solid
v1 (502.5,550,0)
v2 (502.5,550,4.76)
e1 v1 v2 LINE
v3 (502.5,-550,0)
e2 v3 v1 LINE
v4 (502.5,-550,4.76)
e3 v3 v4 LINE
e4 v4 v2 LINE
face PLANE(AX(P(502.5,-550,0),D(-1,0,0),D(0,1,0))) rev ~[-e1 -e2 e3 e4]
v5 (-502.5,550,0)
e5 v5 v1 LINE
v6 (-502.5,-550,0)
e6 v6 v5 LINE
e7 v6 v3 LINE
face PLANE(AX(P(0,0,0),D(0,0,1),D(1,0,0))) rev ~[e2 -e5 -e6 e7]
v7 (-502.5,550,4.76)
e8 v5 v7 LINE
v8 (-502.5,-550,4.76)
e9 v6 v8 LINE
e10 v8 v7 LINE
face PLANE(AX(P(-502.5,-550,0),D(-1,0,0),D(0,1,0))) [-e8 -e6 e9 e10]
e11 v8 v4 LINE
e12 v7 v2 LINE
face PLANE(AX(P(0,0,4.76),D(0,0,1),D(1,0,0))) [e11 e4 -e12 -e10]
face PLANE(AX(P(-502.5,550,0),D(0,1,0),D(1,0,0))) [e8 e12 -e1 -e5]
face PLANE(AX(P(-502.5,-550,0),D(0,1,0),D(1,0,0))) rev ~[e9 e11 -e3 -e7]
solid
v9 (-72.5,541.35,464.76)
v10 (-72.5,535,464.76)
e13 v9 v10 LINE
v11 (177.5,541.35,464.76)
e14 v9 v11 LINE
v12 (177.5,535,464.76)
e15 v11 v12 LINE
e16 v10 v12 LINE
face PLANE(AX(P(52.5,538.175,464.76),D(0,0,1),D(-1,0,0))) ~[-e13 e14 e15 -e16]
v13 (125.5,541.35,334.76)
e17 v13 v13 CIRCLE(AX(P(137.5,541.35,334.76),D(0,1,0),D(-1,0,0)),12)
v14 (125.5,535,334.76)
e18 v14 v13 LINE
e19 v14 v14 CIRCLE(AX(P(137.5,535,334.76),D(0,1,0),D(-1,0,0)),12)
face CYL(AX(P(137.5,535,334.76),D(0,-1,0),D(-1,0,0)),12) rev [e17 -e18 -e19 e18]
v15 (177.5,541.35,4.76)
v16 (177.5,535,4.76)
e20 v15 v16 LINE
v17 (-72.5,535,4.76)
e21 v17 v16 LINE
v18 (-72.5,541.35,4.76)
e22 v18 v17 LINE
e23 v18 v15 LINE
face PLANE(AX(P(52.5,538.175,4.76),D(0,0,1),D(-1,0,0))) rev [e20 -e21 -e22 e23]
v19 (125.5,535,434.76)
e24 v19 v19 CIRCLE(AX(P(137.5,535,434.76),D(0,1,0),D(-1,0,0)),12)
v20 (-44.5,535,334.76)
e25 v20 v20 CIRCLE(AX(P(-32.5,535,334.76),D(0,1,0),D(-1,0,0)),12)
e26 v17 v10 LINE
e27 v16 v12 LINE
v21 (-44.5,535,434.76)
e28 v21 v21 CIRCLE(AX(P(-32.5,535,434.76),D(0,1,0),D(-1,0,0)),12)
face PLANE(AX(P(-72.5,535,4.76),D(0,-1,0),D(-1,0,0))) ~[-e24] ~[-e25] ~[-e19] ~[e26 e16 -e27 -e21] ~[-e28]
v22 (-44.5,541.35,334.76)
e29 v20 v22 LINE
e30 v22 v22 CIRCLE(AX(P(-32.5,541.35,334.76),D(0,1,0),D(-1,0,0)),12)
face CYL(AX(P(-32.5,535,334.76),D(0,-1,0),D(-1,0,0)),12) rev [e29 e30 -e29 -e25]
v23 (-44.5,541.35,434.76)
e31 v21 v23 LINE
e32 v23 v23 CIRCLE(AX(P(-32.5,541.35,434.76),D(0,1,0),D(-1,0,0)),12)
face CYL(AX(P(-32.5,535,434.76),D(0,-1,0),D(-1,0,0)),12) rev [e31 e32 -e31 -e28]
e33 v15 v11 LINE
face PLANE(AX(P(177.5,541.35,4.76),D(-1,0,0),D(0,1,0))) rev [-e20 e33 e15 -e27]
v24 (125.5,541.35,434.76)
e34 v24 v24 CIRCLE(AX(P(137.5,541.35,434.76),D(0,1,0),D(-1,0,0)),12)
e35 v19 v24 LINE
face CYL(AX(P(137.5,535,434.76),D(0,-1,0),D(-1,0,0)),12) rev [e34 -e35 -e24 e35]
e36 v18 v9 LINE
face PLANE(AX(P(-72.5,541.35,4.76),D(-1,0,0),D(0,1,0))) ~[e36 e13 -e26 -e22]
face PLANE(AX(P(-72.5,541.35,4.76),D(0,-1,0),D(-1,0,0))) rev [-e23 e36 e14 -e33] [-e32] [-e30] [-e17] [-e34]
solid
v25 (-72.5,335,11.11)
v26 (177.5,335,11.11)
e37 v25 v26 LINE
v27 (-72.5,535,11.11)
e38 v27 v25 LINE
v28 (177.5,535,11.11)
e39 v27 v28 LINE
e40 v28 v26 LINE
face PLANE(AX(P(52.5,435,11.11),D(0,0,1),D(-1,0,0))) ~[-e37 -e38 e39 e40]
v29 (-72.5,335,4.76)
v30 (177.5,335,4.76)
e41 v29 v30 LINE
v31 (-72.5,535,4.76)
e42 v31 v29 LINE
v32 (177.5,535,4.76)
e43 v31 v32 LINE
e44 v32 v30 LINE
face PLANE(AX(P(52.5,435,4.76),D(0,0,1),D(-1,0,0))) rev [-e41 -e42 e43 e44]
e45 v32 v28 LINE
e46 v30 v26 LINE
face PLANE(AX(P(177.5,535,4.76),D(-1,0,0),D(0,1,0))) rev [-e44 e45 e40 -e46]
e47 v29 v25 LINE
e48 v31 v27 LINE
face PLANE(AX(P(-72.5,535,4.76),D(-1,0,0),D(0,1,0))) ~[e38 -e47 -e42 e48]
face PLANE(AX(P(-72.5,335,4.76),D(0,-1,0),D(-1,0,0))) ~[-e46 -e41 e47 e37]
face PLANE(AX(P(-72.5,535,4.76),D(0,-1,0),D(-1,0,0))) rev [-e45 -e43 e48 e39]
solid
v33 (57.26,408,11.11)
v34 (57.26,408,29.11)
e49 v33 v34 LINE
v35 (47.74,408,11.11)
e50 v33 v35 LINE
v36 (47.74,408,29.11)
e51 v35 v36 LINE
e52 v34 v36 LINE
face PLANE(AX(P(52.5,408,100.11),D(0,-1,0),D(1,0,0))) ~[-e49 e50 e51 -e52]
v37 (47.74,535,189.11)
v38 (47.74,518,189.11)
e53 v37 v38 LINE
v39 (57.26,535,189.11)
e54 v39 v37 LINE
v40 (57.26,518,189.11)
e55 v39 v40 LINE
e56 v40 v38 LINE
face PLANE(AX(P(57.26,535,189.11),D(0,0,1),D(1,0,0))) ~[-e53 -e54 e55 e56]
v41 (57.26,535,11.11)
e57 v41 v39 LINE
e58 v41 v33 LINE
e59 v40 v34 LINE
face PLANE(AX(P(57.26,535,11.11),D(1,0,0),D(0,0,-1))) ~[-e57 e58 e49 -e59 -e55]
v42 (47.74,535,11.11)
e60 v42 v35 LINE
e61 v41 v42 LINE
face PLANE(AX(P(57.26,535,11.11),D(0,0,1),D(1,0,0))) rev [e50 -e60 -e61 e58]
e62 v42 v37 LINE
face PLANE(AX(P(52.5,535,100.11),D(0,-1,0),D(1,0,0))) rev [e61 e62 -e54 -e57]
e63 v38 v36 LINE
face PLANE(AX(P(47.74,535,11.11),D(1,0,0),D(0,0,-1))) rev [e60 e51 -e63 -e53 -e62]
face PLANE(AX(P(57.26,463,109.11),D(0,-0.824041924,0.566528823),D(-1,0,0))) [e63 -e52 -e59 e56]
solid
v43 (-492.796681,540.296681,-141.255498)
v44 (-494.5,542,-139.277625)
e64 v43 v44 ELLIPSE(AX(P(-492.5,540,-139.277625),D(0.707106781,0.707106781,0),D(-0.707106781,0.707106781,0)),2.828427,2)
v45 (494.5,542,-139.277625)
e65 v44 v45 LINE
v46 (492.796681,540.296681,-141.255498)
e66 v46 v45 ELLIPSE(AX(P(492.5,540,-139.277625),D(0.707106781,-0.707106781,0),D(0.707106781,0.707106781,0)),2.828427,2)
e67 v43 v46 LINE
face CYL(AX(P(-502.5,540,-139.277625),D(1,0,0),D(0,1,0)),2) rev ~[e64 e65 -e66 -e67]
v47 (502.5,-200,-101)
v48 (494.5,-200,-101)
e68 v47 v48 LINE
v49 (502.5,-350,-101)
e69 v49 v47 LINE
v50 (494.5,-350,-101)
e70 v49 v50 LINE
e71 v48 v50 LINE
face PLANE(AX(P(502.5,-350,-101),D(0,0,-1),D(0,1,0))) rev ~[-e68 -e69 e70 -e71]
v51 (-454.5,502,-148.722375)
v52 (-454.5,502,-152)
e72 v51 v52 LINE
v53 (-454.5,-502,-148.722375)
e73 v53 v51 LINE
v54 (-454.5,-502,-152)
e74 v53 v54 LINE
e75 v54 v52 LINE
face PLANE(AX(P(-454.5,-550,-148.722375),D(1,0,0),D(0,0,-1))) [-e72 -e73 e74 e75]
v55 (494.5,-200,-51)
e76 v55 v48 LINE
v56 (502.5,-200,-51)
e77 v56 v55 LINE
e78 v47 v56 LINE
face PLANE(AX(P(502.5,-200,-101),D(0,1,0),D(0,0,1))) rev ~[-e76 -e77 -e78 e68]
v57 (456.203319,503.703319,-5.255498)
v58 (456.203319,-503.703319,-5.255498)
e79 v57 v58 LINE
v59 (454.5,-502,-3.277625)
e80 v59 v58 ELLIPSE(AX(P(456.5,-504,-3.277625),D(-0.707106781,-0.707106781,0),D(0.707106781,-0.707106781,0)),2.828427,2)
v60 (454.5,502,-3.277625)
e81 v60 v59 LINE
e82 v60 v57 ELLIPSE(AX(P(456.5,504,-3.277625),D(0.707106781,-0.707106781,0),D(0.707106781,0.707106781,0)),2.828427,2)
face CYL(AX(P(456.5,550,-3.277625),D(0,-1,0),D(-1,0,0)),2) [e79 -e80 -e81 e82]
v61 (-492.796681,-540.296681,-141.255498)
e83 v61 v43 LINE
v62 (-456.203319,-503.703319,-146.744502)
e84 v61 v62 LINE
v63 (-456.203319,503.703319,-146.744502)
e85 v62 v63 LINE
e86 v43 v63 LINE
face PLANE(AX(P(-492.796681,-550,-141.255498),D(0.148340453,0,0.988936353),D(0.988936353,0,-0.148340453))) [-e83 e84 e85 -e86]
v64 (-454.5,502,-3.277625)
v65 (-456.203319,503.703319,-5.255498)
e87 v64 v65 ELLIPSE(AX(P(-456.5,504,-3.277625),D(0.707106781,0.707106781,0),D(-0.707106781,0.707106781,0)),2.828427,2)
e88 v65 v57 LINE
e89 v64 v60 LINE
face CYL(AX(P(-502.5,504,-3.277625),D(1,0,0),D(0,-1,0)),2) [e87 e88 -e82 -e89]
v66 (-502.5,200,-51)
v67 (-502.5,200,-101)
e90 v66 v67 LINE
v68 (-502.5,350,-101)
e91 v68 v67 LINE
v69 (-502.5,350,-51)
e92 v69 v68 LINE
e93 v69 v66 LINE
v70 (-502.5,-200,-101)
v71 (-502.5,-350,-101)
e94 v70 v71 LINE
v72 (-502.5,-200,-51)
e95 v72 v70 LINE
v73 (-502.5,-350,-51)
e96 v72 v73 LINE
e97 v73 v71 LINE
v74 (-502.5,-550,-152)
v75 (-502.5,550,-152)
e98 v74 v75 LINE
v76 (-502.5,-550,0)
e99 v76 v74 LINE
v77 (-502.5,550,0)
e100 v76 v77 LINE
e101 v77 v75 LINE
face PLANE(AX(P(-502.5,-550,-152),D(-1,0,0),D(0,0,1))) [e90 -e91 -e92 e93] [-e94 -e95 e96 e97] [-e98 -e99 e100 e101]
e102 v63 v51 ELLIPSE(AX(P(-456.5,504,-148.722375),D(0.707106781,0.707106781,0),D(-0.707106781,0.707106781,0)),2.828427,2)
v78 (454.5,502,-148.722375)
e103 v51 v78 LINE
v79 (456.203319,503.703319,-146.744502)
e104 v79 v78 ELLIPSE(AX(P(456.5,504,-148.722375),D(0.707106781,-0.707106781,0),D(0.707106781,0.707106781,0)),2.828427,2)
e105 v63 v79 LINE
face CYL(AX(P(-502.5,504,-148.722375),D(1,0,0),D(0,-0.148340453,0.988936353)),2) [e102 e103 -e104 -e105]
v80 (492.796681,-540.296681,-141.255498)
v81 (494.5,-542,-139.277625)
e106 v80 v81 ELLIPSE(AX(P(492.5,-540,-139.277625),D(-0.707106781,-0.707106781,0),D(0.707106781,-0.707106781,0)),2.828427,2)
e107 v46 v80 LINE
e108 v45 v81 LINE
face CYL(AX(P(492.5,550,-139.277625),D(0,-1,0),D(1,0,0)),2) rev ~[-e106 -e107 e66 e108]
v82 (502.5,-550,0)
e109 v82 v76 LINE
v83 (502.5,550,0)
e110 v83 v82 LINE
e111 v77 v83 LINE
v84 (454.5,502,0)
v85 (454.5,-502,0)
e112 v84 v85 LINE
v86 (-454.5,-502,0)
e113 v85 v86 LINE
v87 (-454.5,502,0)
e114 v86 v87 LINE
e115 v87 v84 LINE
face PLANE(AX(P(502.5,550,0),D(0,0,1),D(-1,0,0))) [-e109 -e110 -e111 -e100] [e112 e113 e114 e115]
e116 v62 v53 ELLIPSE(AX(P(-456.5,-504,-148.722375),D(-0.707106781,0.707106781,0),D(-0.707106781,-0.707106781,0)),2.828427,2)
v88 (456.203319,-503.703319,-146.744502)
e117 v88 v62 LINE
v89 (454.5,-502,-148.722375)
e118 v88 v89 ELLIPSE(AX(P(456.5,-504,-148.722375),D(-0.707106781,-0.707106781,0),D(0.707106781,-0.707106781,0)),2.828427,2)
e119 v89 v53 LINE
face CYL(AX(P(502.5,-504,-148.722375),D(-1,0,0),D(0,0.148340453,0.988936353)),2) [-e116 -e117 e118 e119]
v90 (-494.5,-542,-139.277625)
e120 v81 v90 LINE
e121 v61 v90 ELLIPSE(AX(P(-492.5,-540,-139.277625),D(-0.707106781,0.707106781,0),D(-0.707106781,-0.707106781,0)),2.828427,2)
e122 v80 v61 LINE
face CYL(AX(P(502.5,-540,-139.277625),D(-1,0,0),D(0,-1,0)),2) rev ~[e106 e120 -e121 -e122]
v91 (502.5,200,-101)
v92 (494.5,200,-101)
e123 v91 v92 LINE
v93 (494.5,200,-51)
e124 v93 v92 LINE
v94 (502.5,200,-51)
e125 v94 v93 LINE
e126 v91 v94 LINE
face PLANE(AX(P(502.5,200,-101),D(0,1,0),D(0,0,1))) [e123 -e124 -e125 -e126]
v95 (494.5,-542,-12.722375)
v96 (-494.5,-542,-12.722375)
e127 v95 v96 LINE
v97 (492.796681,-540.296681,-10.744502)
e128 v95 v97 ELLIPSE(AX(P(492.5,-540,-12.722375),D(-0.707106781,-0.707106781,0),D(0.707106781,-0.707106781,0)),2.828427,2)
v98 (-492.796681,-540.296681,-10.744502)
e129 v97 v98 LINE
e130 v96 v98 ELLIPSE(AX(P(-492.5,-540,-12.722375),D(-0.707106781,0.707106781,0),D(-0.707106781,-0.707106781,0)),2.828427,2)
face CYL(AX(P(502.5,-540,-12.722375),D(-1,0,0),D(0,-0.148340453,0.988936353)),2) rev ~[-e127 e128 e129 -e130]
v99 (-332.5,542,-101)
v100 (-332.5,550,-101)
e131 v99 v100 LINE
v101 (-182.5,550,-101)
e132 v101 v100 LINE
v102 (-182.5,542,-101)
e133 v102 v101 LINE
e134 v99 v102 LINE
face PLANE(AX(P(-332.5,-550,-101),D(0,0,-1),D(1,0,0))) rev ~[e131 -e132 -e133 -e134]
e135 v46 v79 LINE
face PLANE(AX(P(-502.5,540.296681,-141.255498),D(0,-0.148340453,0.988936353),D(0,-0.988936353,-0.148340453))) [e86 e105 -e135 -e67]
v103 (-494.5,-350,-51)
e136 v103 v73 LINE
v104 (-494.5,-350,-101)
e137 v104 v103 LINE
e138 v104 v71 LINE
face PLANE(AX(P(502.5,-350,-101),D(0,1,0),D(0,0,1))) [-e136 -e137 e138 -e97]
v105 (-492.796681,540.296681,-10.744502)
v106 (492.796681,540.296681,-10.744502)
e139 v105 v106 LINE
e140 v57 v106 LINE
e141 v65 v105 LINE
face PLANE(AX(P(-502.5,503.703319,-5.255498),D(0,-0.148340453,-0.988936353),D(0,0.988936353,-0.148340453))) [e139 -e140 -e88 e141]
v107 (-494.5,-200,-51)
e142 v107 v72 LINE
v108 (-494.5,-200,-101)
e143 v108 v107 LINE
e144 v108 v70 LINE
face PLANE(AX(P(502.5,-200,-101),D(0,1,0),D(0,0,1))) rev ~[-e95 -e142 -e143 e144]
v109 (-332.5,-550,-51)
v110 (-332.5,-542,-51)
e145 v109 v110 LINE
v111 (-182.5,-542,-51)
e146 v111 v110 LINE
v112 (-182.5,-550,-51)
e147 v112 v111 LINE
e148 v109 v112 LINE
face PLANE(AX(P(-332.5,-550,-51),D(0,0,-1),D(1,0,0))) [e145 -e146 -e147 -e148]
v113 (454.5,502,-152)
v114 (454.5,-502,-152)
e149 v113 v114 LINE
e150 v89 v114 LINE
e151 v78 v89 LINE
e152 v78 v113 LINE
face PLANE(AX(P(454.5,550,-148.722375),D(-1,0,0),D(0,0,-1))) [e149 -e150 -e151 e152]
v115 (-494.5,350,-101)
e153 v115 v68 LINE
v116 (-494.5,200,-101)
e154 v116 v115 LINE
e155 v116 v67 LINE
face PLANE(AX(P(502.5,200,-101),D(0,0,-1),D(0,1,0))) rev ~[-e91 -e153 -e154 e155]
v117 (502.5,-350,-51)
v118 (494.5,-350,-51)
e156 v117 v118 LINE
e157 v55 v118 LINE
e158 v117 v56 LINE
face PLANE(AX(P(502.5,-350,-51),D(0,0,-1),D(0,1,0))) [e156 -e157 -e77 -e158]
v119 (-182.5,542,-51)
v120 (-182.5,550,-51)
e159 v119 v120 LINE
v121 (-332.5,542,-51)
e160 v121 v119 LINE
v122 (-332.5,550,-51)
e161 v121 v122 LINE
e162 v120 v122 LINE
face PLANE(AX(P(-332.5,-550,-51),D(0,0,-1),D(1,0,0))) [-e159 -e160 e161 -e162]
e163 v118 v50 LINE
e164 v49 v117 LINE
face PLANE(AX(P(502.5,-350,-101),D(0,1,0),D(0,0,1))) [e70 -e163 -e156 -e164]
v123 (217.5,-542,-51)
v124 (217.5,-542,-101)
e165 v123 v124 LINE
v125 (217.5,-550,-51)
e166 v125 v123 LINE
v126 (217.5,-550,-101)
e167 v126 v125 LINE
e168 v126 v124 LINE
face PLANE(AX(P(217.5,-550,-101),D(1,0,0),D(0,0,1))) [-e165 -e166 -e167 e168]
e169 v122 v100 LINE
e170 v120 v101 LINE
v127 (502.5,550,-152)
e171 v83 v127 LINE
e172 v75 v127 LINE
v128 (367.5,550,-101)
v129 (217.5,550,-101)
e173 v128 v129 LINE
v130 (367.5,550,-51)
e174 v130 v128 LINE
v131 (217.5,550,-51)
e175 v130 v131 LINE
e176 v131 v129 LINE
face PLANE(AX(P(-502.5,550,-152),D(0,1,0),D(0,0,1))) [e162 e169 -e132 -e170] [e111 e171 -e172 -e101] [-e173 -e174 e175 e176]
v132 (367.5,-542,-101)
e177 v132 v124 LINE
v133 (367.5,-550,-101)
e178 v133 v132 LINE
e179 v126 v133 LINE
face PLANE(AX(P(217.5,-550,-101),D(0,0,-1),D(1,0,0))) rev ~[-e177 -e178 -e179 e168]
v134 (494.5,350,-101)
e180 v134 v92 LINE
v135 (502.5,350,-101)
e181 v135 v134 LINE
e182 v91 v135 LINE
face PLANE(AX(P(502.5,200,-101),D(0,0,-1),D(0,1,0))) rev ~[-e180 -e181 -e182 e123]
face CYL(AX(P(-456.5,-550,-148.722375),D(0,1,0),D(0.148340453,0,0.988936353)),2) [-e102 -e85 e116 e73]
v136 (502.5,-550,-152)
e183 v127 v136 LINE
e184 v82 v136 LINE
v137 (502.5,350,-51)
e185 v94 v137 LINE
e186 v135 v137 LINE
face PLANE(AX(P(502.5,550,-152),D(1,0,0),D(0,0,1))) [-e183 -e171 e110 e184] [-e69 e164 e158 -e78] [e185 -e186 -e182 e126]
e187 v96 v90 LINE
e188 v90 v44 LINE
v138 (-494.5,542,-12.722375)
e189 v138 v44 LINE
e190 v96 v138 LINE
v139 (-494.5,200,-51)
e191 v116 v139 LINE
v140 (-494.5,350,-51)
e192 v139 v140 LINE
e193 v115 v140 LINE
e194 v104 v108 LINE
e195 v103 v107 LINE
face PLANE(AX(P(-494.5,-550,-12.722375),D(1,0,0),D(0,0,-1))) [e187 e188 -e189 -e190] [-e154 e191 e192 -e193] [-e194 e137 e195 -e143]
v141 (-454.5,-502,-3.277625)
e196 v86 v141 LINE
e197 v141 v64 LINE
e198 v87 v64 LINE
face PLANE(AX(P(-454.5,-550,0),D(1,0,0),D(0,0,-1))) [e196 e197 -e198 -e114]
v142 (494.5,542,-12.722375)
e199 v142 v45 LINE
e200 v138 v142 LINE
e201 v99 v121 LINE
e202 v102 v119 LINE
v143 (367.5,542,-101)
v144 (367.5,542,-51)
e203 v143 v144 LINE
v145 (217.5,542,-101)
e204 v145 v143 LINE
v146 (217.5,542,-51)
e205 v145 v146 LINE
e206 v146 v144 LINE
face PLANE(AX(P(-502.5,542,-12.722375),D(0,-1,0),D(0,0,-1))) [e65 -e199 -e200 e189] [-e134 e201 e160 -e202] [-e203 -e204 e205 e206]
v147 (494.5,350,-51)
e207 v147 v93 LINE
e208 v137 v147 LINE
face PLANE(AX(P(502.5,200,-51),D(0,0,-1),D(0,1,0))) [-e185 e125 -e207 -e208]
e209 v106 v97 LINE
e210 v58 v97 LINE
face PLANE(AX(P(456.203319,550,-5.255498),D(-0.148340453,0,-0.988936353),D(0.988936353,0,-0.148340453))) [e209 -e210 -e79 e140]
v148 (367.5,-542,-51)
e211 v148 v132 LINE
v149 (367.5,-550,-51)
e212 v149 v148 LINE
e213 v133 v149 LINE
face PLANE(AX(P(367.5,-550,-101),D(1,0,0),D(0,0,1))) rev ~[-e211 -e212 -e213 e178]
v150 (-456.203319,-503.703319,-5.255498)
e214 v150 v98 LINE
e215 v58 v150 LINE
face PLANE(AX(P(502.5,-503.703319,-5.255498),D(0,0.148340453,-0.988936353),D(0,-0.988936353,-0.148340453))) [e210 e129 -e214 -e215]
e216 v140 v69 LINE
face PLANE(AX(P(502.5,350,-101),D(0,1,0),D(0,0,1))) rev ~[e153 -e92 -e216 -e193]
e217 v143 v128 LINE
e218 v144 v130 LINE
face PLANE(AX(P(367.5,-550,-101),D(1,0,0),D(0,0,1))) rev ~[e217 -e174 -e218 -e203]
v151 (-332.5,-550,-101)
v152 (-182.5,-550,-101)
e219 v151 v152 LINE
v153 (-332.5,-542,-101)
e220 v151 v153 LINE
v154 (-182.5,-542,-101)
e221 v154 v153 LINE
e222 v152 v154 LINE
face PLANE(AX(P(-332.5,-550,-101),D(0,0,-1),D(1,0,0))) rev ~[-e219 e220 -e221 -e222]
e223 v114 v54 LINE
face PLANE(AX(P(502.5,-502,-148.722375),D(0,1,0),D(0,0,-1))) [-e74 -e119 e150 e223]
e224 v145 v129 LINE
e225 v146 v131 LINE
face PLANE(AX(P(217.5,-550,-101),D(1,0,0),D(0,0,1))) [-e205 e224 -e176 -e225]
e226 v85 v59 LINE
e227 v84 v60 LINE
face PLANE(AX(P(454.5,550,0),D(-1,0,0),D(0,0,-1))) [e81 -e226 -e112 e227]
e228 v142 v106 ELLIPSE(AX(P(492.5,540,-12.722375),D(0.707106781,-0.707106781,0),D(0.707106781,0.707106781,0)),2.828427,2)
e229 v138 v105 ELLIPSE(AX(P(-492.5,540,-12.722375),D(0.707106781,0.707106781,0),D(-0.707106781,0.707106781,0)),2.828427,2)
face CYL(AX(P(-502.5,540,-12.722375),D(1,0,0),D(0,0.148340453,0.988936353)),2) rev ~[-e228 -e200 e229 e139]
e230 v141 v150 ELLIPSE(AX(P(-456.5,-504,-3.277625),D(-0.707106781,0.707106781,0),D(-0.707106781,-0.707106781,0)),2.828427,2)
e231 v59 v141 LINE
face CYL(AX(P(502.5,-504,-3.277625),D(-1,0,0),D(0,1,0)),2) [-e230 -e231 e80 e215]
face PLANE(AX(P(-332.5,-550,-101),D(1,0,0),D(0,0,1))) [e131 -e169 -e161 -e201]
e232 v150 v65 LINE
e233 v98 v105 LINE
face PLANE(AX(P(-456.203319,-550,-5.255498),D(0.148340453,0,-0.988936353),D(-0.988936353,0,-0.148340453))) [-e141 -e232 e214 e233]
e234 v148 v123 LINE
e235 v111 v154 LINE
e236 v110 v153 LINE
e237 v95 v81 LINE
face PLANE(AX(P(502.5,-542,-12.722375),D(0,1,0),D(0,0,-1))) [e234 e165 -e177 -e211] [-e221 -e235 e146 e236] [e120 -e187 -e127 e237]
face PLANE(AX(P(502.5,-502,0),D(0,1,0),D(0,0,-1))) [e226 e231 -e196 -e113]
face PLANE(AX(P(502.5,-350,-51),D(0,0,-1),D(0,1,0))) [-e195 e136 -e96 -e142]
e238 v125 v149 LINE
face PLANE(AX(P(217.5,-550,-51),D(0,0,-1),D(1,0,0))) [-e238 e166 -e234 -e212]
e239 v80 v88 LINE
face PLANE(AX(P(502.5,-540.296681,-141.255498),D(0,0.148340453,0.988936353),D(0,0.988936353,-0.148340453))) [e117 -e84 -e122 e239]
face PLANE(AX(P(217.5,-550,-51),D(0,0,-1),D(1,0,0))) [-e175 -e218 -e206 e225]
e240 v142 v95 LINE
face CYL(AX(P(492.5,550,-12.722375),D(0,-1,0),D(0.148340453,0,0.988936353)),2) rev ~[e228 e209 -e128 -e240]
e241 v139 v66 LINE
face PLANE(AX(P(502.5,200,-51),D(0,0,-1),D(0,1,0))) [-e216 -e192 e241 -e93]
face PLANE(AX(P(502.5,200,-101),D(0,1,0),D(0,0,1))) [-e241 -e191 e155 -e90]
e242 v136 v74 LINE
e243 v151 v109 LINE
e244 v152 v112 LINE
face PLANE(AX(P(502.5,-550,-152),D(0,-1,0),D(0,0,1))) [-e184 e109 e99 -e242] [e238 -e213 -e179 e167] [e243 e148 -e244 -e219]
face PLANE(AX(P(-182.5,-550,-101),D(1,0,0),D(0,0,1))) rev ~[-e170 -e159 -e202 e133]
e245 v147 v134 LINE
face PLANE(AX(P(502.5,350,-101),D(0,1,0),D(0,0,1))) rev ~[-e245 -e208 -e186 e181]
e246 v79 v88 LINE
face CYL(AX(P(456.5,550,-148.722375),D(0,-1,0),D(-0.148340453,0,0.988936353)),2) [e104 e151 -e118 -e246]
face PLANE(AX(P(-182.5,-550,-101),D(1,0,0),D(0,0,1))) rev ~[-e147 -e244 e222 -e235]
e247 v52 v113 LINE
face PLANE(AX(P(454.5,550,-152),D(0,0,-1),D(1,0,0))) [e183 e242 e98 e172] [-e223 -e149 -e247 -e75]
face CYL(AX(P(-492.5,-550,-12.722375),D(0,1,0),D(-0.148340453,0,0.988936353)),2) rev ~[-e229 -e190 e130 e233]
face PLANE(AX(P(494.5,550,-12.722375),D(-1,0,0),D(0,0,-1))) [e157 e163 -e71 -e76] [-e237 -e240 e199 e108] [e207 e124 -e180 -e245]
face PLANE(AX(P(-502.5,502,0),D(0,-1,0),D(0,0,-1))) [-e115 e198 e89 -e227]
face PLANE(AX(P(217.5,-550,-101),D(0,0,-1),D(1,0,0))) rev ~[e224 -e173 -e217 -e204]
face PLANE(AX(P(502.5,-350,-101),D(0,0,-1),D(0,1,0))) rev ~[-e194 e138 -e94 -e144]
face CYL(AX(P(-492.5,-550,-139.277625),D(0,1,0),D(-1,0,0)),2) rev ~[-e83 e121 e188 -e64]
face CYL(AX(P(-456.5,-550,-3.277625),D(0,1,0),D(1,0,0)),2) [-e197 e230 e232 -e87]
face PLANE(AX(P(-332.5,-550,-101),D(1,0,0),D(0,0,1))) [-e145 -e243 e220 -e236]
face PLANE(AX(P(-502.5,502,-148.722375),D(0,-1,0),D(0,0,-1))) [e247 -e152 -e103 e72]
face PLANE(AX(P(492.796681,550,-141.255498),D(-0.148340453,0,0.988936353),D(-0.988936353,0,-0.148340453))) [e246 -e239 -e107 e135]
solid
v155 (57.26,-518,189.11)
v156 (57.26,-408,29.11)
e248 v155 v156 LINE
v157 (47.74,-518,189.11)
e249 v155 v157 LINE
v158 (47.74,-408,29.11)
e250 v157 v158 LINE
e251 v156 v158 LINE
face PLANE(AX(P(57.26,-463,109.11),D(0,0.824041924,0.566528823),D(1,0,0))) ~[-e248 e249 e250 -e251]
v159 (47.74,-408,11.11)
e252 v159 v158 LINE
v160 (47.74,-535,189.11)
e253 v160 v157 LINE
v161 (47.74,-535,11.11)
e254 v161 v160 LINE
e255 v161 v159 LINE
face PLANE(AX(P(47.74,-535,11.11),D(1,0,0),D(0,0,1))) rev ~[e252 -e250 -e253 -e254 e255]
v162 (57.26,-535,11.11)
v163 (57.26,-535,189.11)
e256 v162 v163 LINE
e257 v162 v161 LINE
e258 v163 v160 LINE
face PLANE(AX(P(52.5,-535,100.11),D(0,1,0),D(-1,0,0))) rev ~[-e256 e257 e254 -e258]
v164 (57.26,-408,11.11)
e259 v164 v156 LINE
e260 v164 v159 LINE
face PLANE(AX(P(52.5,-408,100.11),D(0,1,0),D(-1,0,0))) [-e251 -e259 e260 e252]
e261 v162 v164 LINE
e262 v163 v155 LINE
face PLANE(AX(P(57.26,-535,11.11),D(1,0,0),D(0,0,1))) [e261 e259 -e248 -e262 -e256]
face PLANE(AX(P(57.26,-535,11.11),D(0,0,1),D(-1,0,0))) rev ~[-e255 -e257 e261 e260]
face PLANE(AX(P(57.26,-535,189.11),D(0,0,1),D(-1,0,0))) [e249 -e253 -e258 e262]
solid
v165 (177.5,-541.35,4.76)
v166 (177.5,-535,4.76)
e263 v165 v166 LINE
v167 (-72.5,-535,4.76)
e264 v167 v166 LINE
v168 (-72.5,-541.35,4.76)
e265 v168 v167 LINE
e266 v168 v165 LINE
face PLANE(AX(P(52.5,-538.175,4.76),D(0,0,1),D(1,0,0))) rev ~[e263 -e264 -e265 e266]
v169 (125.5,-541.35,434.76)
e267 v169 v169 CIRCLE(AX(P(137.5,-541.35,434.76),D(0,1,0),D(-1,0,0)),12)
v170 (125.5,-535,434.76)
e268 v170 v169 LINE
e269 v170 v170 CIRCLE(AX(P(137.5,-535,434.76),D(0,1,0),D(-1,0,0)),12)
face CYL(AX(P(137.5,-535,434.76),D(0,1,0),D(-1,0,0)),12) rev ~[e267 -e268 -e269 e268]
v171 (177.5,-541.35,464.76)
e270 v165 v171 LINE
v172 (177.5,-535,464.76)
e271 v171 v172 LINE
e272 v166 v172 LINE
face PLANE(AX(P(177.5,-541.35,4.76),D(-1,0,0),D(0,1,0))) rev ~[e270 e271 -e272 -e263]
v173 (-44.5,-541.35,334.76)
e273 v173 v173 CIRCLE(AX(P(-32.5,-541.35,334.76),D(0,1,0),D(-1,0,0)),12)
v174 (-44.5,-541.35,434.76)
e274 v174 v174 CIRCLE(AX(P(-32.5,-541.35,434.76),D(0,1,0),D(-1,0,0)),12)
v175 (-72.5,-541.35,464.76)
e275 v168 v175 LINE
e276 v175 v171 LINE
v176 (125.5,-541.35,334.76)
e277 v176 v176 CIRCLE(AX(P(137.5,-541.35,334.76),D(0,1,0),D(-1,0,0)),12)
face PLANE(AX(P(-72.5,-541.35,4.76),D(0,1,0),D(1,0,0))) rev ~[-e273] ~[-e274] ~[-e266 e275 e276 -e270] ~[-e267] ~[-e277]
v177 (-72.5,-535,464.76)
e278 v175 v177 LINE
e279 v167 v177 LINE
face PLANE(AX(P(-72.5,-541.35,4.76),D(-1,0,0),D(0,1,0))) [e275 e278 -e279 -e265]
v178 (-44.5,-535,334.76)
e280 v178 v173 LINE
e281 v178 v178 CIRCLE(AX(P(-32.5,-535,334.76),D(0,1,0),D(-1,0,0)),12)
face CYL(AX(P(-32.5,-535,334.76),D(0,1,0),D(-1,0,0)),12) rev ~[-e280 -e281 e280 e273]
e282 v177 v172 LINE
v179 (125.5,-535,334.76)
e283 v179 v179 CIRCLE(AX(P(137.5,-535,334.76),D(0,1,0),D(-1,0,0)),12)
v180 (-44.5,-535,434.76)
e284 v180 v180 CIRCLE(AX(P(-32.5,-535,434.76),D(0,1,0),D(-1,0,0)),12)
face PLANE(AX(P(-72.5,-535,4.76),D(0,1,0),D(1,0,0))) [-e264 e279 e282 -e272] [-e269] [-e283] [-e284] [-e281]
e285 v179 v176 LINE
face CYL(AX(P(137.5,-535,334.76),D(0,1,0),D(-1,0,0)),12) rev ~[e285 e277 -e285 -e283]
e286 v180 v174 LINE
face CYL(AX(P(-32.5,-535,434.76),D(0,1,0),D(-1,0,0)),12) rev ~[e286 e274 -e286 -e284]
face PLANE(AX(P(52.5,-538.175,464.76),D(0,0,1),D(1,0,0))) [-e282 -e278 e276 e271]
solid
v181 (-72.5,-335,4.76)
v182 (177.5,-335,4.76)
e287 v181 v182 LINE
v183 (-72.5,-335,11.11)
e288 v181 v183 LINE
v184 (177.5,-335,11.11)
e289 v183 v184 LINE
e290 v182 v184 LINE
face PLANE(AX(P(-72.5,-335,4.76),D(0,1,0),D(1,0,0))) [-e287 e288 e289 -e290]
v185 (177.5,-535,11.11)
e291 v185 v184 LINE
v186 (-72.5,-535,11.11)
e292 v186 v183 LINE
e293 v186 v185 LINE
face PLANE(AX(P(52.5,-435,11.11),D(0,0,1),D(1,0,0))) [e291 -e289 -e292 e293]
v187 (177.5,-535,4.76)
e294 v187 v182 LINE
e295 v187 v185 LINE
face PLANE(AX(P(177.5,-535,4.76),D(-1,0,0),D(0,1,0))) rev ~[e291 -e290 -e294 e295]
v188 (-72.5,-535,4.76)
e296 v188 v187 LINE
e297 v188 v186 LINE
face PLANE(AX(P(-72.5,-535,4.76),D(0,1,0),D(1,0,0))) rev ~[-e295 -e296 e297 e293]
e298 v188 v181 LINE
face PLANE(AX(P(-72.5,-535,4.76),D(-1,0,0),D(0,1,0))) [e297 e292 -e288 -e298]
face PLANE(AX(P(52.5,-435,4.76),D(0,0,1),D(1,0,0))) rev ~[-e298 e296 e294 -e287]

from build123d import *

# Parameters (mm, degrees)
F0_W      = 1005
F0_H      = 1100
F1_DEPTH  = 4.76
F4_W      = 150
F4_H      = 50
F5_DEPTH  = 1005.001
F6_W      = 150
F6_H      = 50
F7_DEPTH  = 1100.001
F8_W      = 250
F8_H      = 200
F9_DEPTH  = 6.35
F10_W     = 250
F10_H     = 6.35
F11_DEPTH = 460
F12_W     = 9.52
F12_H     = 178
F13_DEPTH = 127
F14_SIZE2 = 160
F14_SIZE  = 110
F15_R     = 12
F16_DEPTH = 15.001


with BuildPart() as f1:
    # F0 (on Top) → F1 (new body)
    with BuildSketch(Plane.XY):
        Rectangle(F0_W, F0_H)
    extrude(amount=F1_DEPTH)


with BuildPart() as f3:
    # F3: sweep along a path in F3_path
    with BuildLine(Plane(origin=(502.5, 550, 0), x_dir=(0, 1, 0), z_dir=(0, 0, 1))) as f3_path:
        Line((0, 0), (-1100, 0))
        Line((-1100, 0), (-1100, 1005))
        Line((-1100, 1005), (0, 1005))
        Line((0, 1005), (0, 0))
    # F2 (on Front) → F3 (sweep)
    with BuildSketch(Plane.XZ):
        with BuildLine():
            Line((502.5, -152), (502.5, 0))
            Line((502.5, 0), (454.5, 0))
            Line((454.5, 0), (454.5, -3.2776251584))
            ThreePointArc((454.5, -3.2776251584), (454.9845195792, -4.5827378333), (456.2033190941, -5.2554978641))
            Line((456.2033190941, -5.2554978641), (492.7966809059, -10.7445021359))
            ThreePointArc((492.7966809059, -10.7445021359), (494.0154804208, -11.4172621667), (494.5, -12.7223748416))
            Line((494.5, -12.7223748416), (494.5, -139.2776251584))
            ThreePointArc((494.5, -139.2776251584), (494.0154804208, -140.5827378333), (492.7966809059, -141.2554978641))
            Line((492.7966809059, -141.2554978641), (456.2033190941, -146.7445021359))
            ThreePointArc((456.2033190941, -146.7445021359), (454.9845195792, -147.4172621667), (454.5, -148.7223748416))
            Line((454.5, -148.7223748416), (454.5, -152))
            Line((454.5, -152), (502.5, -152))
        make_face()
    sweep(path=f3_path.line, transition=Transition.RIGHT)

    # F4 (on face) → F5 (cut, through all)
    with BuildSketch(Plane.YZ.offset(502.5)):
        with Locations((-275, -76)):
            Rectangle(F4_W, F4_H)
        with Locations((275, -76)):
            Rectangle(F4_W, F4_H)
    extrude(amount=-F5_DEPTH, mode=Mode.SUBTRACT)

    # F6 (on face) → F7 (cut, through all)
    with BuildSketch(Plane.XZ.offset(550)):
        with Locations((-257.5, -76)):
            Rectangle(F6_W, F6_H)
        with Locations((292.5, -76)):
            Rectangle(F6_W, F6_H)
    extrude(amount=-F7_DEPTH, mode=Mode.SUBTRACT)


with BuildPart() as f9:
    # F8 (on face) → F9 (new body)
    with BuildSketch(Plane.XY.offset(4.76)):
        with Locations((52.5, -435)):
            Rectangle(F8_W, F8_H)
    extrude(amount=F9_DEPTH)


with BuildPart() as f11:
    # F10 (on face) → F11 (new body)
    with BuildSketch(Plane.XY.offset(4.76)):
        with Locations((52.5, -538.175)):
            Rectangle(F10_W, F10_H)
    extrude(amount=F11_DEPTH)

    # F15 (on face) → F16 (cut, through all)
    with BuildSketch(Plane(origin=(0, -535, 0), x_dir=(-1, 0, 0), z_dir=(0, 1, 0))):
        with Locations((-137.5, 434.76)):
            Circle(F15_R)
        with Locations((32.5, 434.76)):
            Circle(F15_R)
        with Locations((-137.5, 334.76)):
            Circle(F15_R)
        with Locations((32.5, 334.76)):
            Circle(F15_R)
    extrude(amount=-F16_DEPTH, mode=Mode.SUBTRACT)


with BuildPart() as f13:
    # F12 (on face) → F13 (new body)
    with BuildSketch(Plane(origin=(0, -535, 0), x_dir=(-1, 0, 0), z_dir=(0, 1, 0))):
        with Locations((-52.5, 100.11)):
            Rectangle(F12_W, F12_H)
    extrude(amount=F13_DEPTH)

    # F14
    f14_edges = [f13.edges().sort_by_distance(p)[0] for p in [
        (52.5, -408, 189.11),
    ]]
    f14_side = f13.faces().sort_by_distance((52.5, -471.5, 189.11))[0]
    chamfer(f14_edges, length=F14_SIZE, length2=F14_SIZE2, reference=f14_side)


with BuildPart() as f17_1:
    # F17: instance of F9
    add(f9.part.mirror(Plane.XZ))


with BuildPart() as f17_2:
    # F17: instance of F13
    add(f13.part.mirror(Plane.XZ))


with BuildPart() as f17_3:
    # F17: instance of F11
    add(f11.part.mirror(Plane.XZ))


solid = Compound([f1.part, f3.part, f9.part, f11.part, f13.part, f17_1.part, f17_2.part, f17_3.part])
